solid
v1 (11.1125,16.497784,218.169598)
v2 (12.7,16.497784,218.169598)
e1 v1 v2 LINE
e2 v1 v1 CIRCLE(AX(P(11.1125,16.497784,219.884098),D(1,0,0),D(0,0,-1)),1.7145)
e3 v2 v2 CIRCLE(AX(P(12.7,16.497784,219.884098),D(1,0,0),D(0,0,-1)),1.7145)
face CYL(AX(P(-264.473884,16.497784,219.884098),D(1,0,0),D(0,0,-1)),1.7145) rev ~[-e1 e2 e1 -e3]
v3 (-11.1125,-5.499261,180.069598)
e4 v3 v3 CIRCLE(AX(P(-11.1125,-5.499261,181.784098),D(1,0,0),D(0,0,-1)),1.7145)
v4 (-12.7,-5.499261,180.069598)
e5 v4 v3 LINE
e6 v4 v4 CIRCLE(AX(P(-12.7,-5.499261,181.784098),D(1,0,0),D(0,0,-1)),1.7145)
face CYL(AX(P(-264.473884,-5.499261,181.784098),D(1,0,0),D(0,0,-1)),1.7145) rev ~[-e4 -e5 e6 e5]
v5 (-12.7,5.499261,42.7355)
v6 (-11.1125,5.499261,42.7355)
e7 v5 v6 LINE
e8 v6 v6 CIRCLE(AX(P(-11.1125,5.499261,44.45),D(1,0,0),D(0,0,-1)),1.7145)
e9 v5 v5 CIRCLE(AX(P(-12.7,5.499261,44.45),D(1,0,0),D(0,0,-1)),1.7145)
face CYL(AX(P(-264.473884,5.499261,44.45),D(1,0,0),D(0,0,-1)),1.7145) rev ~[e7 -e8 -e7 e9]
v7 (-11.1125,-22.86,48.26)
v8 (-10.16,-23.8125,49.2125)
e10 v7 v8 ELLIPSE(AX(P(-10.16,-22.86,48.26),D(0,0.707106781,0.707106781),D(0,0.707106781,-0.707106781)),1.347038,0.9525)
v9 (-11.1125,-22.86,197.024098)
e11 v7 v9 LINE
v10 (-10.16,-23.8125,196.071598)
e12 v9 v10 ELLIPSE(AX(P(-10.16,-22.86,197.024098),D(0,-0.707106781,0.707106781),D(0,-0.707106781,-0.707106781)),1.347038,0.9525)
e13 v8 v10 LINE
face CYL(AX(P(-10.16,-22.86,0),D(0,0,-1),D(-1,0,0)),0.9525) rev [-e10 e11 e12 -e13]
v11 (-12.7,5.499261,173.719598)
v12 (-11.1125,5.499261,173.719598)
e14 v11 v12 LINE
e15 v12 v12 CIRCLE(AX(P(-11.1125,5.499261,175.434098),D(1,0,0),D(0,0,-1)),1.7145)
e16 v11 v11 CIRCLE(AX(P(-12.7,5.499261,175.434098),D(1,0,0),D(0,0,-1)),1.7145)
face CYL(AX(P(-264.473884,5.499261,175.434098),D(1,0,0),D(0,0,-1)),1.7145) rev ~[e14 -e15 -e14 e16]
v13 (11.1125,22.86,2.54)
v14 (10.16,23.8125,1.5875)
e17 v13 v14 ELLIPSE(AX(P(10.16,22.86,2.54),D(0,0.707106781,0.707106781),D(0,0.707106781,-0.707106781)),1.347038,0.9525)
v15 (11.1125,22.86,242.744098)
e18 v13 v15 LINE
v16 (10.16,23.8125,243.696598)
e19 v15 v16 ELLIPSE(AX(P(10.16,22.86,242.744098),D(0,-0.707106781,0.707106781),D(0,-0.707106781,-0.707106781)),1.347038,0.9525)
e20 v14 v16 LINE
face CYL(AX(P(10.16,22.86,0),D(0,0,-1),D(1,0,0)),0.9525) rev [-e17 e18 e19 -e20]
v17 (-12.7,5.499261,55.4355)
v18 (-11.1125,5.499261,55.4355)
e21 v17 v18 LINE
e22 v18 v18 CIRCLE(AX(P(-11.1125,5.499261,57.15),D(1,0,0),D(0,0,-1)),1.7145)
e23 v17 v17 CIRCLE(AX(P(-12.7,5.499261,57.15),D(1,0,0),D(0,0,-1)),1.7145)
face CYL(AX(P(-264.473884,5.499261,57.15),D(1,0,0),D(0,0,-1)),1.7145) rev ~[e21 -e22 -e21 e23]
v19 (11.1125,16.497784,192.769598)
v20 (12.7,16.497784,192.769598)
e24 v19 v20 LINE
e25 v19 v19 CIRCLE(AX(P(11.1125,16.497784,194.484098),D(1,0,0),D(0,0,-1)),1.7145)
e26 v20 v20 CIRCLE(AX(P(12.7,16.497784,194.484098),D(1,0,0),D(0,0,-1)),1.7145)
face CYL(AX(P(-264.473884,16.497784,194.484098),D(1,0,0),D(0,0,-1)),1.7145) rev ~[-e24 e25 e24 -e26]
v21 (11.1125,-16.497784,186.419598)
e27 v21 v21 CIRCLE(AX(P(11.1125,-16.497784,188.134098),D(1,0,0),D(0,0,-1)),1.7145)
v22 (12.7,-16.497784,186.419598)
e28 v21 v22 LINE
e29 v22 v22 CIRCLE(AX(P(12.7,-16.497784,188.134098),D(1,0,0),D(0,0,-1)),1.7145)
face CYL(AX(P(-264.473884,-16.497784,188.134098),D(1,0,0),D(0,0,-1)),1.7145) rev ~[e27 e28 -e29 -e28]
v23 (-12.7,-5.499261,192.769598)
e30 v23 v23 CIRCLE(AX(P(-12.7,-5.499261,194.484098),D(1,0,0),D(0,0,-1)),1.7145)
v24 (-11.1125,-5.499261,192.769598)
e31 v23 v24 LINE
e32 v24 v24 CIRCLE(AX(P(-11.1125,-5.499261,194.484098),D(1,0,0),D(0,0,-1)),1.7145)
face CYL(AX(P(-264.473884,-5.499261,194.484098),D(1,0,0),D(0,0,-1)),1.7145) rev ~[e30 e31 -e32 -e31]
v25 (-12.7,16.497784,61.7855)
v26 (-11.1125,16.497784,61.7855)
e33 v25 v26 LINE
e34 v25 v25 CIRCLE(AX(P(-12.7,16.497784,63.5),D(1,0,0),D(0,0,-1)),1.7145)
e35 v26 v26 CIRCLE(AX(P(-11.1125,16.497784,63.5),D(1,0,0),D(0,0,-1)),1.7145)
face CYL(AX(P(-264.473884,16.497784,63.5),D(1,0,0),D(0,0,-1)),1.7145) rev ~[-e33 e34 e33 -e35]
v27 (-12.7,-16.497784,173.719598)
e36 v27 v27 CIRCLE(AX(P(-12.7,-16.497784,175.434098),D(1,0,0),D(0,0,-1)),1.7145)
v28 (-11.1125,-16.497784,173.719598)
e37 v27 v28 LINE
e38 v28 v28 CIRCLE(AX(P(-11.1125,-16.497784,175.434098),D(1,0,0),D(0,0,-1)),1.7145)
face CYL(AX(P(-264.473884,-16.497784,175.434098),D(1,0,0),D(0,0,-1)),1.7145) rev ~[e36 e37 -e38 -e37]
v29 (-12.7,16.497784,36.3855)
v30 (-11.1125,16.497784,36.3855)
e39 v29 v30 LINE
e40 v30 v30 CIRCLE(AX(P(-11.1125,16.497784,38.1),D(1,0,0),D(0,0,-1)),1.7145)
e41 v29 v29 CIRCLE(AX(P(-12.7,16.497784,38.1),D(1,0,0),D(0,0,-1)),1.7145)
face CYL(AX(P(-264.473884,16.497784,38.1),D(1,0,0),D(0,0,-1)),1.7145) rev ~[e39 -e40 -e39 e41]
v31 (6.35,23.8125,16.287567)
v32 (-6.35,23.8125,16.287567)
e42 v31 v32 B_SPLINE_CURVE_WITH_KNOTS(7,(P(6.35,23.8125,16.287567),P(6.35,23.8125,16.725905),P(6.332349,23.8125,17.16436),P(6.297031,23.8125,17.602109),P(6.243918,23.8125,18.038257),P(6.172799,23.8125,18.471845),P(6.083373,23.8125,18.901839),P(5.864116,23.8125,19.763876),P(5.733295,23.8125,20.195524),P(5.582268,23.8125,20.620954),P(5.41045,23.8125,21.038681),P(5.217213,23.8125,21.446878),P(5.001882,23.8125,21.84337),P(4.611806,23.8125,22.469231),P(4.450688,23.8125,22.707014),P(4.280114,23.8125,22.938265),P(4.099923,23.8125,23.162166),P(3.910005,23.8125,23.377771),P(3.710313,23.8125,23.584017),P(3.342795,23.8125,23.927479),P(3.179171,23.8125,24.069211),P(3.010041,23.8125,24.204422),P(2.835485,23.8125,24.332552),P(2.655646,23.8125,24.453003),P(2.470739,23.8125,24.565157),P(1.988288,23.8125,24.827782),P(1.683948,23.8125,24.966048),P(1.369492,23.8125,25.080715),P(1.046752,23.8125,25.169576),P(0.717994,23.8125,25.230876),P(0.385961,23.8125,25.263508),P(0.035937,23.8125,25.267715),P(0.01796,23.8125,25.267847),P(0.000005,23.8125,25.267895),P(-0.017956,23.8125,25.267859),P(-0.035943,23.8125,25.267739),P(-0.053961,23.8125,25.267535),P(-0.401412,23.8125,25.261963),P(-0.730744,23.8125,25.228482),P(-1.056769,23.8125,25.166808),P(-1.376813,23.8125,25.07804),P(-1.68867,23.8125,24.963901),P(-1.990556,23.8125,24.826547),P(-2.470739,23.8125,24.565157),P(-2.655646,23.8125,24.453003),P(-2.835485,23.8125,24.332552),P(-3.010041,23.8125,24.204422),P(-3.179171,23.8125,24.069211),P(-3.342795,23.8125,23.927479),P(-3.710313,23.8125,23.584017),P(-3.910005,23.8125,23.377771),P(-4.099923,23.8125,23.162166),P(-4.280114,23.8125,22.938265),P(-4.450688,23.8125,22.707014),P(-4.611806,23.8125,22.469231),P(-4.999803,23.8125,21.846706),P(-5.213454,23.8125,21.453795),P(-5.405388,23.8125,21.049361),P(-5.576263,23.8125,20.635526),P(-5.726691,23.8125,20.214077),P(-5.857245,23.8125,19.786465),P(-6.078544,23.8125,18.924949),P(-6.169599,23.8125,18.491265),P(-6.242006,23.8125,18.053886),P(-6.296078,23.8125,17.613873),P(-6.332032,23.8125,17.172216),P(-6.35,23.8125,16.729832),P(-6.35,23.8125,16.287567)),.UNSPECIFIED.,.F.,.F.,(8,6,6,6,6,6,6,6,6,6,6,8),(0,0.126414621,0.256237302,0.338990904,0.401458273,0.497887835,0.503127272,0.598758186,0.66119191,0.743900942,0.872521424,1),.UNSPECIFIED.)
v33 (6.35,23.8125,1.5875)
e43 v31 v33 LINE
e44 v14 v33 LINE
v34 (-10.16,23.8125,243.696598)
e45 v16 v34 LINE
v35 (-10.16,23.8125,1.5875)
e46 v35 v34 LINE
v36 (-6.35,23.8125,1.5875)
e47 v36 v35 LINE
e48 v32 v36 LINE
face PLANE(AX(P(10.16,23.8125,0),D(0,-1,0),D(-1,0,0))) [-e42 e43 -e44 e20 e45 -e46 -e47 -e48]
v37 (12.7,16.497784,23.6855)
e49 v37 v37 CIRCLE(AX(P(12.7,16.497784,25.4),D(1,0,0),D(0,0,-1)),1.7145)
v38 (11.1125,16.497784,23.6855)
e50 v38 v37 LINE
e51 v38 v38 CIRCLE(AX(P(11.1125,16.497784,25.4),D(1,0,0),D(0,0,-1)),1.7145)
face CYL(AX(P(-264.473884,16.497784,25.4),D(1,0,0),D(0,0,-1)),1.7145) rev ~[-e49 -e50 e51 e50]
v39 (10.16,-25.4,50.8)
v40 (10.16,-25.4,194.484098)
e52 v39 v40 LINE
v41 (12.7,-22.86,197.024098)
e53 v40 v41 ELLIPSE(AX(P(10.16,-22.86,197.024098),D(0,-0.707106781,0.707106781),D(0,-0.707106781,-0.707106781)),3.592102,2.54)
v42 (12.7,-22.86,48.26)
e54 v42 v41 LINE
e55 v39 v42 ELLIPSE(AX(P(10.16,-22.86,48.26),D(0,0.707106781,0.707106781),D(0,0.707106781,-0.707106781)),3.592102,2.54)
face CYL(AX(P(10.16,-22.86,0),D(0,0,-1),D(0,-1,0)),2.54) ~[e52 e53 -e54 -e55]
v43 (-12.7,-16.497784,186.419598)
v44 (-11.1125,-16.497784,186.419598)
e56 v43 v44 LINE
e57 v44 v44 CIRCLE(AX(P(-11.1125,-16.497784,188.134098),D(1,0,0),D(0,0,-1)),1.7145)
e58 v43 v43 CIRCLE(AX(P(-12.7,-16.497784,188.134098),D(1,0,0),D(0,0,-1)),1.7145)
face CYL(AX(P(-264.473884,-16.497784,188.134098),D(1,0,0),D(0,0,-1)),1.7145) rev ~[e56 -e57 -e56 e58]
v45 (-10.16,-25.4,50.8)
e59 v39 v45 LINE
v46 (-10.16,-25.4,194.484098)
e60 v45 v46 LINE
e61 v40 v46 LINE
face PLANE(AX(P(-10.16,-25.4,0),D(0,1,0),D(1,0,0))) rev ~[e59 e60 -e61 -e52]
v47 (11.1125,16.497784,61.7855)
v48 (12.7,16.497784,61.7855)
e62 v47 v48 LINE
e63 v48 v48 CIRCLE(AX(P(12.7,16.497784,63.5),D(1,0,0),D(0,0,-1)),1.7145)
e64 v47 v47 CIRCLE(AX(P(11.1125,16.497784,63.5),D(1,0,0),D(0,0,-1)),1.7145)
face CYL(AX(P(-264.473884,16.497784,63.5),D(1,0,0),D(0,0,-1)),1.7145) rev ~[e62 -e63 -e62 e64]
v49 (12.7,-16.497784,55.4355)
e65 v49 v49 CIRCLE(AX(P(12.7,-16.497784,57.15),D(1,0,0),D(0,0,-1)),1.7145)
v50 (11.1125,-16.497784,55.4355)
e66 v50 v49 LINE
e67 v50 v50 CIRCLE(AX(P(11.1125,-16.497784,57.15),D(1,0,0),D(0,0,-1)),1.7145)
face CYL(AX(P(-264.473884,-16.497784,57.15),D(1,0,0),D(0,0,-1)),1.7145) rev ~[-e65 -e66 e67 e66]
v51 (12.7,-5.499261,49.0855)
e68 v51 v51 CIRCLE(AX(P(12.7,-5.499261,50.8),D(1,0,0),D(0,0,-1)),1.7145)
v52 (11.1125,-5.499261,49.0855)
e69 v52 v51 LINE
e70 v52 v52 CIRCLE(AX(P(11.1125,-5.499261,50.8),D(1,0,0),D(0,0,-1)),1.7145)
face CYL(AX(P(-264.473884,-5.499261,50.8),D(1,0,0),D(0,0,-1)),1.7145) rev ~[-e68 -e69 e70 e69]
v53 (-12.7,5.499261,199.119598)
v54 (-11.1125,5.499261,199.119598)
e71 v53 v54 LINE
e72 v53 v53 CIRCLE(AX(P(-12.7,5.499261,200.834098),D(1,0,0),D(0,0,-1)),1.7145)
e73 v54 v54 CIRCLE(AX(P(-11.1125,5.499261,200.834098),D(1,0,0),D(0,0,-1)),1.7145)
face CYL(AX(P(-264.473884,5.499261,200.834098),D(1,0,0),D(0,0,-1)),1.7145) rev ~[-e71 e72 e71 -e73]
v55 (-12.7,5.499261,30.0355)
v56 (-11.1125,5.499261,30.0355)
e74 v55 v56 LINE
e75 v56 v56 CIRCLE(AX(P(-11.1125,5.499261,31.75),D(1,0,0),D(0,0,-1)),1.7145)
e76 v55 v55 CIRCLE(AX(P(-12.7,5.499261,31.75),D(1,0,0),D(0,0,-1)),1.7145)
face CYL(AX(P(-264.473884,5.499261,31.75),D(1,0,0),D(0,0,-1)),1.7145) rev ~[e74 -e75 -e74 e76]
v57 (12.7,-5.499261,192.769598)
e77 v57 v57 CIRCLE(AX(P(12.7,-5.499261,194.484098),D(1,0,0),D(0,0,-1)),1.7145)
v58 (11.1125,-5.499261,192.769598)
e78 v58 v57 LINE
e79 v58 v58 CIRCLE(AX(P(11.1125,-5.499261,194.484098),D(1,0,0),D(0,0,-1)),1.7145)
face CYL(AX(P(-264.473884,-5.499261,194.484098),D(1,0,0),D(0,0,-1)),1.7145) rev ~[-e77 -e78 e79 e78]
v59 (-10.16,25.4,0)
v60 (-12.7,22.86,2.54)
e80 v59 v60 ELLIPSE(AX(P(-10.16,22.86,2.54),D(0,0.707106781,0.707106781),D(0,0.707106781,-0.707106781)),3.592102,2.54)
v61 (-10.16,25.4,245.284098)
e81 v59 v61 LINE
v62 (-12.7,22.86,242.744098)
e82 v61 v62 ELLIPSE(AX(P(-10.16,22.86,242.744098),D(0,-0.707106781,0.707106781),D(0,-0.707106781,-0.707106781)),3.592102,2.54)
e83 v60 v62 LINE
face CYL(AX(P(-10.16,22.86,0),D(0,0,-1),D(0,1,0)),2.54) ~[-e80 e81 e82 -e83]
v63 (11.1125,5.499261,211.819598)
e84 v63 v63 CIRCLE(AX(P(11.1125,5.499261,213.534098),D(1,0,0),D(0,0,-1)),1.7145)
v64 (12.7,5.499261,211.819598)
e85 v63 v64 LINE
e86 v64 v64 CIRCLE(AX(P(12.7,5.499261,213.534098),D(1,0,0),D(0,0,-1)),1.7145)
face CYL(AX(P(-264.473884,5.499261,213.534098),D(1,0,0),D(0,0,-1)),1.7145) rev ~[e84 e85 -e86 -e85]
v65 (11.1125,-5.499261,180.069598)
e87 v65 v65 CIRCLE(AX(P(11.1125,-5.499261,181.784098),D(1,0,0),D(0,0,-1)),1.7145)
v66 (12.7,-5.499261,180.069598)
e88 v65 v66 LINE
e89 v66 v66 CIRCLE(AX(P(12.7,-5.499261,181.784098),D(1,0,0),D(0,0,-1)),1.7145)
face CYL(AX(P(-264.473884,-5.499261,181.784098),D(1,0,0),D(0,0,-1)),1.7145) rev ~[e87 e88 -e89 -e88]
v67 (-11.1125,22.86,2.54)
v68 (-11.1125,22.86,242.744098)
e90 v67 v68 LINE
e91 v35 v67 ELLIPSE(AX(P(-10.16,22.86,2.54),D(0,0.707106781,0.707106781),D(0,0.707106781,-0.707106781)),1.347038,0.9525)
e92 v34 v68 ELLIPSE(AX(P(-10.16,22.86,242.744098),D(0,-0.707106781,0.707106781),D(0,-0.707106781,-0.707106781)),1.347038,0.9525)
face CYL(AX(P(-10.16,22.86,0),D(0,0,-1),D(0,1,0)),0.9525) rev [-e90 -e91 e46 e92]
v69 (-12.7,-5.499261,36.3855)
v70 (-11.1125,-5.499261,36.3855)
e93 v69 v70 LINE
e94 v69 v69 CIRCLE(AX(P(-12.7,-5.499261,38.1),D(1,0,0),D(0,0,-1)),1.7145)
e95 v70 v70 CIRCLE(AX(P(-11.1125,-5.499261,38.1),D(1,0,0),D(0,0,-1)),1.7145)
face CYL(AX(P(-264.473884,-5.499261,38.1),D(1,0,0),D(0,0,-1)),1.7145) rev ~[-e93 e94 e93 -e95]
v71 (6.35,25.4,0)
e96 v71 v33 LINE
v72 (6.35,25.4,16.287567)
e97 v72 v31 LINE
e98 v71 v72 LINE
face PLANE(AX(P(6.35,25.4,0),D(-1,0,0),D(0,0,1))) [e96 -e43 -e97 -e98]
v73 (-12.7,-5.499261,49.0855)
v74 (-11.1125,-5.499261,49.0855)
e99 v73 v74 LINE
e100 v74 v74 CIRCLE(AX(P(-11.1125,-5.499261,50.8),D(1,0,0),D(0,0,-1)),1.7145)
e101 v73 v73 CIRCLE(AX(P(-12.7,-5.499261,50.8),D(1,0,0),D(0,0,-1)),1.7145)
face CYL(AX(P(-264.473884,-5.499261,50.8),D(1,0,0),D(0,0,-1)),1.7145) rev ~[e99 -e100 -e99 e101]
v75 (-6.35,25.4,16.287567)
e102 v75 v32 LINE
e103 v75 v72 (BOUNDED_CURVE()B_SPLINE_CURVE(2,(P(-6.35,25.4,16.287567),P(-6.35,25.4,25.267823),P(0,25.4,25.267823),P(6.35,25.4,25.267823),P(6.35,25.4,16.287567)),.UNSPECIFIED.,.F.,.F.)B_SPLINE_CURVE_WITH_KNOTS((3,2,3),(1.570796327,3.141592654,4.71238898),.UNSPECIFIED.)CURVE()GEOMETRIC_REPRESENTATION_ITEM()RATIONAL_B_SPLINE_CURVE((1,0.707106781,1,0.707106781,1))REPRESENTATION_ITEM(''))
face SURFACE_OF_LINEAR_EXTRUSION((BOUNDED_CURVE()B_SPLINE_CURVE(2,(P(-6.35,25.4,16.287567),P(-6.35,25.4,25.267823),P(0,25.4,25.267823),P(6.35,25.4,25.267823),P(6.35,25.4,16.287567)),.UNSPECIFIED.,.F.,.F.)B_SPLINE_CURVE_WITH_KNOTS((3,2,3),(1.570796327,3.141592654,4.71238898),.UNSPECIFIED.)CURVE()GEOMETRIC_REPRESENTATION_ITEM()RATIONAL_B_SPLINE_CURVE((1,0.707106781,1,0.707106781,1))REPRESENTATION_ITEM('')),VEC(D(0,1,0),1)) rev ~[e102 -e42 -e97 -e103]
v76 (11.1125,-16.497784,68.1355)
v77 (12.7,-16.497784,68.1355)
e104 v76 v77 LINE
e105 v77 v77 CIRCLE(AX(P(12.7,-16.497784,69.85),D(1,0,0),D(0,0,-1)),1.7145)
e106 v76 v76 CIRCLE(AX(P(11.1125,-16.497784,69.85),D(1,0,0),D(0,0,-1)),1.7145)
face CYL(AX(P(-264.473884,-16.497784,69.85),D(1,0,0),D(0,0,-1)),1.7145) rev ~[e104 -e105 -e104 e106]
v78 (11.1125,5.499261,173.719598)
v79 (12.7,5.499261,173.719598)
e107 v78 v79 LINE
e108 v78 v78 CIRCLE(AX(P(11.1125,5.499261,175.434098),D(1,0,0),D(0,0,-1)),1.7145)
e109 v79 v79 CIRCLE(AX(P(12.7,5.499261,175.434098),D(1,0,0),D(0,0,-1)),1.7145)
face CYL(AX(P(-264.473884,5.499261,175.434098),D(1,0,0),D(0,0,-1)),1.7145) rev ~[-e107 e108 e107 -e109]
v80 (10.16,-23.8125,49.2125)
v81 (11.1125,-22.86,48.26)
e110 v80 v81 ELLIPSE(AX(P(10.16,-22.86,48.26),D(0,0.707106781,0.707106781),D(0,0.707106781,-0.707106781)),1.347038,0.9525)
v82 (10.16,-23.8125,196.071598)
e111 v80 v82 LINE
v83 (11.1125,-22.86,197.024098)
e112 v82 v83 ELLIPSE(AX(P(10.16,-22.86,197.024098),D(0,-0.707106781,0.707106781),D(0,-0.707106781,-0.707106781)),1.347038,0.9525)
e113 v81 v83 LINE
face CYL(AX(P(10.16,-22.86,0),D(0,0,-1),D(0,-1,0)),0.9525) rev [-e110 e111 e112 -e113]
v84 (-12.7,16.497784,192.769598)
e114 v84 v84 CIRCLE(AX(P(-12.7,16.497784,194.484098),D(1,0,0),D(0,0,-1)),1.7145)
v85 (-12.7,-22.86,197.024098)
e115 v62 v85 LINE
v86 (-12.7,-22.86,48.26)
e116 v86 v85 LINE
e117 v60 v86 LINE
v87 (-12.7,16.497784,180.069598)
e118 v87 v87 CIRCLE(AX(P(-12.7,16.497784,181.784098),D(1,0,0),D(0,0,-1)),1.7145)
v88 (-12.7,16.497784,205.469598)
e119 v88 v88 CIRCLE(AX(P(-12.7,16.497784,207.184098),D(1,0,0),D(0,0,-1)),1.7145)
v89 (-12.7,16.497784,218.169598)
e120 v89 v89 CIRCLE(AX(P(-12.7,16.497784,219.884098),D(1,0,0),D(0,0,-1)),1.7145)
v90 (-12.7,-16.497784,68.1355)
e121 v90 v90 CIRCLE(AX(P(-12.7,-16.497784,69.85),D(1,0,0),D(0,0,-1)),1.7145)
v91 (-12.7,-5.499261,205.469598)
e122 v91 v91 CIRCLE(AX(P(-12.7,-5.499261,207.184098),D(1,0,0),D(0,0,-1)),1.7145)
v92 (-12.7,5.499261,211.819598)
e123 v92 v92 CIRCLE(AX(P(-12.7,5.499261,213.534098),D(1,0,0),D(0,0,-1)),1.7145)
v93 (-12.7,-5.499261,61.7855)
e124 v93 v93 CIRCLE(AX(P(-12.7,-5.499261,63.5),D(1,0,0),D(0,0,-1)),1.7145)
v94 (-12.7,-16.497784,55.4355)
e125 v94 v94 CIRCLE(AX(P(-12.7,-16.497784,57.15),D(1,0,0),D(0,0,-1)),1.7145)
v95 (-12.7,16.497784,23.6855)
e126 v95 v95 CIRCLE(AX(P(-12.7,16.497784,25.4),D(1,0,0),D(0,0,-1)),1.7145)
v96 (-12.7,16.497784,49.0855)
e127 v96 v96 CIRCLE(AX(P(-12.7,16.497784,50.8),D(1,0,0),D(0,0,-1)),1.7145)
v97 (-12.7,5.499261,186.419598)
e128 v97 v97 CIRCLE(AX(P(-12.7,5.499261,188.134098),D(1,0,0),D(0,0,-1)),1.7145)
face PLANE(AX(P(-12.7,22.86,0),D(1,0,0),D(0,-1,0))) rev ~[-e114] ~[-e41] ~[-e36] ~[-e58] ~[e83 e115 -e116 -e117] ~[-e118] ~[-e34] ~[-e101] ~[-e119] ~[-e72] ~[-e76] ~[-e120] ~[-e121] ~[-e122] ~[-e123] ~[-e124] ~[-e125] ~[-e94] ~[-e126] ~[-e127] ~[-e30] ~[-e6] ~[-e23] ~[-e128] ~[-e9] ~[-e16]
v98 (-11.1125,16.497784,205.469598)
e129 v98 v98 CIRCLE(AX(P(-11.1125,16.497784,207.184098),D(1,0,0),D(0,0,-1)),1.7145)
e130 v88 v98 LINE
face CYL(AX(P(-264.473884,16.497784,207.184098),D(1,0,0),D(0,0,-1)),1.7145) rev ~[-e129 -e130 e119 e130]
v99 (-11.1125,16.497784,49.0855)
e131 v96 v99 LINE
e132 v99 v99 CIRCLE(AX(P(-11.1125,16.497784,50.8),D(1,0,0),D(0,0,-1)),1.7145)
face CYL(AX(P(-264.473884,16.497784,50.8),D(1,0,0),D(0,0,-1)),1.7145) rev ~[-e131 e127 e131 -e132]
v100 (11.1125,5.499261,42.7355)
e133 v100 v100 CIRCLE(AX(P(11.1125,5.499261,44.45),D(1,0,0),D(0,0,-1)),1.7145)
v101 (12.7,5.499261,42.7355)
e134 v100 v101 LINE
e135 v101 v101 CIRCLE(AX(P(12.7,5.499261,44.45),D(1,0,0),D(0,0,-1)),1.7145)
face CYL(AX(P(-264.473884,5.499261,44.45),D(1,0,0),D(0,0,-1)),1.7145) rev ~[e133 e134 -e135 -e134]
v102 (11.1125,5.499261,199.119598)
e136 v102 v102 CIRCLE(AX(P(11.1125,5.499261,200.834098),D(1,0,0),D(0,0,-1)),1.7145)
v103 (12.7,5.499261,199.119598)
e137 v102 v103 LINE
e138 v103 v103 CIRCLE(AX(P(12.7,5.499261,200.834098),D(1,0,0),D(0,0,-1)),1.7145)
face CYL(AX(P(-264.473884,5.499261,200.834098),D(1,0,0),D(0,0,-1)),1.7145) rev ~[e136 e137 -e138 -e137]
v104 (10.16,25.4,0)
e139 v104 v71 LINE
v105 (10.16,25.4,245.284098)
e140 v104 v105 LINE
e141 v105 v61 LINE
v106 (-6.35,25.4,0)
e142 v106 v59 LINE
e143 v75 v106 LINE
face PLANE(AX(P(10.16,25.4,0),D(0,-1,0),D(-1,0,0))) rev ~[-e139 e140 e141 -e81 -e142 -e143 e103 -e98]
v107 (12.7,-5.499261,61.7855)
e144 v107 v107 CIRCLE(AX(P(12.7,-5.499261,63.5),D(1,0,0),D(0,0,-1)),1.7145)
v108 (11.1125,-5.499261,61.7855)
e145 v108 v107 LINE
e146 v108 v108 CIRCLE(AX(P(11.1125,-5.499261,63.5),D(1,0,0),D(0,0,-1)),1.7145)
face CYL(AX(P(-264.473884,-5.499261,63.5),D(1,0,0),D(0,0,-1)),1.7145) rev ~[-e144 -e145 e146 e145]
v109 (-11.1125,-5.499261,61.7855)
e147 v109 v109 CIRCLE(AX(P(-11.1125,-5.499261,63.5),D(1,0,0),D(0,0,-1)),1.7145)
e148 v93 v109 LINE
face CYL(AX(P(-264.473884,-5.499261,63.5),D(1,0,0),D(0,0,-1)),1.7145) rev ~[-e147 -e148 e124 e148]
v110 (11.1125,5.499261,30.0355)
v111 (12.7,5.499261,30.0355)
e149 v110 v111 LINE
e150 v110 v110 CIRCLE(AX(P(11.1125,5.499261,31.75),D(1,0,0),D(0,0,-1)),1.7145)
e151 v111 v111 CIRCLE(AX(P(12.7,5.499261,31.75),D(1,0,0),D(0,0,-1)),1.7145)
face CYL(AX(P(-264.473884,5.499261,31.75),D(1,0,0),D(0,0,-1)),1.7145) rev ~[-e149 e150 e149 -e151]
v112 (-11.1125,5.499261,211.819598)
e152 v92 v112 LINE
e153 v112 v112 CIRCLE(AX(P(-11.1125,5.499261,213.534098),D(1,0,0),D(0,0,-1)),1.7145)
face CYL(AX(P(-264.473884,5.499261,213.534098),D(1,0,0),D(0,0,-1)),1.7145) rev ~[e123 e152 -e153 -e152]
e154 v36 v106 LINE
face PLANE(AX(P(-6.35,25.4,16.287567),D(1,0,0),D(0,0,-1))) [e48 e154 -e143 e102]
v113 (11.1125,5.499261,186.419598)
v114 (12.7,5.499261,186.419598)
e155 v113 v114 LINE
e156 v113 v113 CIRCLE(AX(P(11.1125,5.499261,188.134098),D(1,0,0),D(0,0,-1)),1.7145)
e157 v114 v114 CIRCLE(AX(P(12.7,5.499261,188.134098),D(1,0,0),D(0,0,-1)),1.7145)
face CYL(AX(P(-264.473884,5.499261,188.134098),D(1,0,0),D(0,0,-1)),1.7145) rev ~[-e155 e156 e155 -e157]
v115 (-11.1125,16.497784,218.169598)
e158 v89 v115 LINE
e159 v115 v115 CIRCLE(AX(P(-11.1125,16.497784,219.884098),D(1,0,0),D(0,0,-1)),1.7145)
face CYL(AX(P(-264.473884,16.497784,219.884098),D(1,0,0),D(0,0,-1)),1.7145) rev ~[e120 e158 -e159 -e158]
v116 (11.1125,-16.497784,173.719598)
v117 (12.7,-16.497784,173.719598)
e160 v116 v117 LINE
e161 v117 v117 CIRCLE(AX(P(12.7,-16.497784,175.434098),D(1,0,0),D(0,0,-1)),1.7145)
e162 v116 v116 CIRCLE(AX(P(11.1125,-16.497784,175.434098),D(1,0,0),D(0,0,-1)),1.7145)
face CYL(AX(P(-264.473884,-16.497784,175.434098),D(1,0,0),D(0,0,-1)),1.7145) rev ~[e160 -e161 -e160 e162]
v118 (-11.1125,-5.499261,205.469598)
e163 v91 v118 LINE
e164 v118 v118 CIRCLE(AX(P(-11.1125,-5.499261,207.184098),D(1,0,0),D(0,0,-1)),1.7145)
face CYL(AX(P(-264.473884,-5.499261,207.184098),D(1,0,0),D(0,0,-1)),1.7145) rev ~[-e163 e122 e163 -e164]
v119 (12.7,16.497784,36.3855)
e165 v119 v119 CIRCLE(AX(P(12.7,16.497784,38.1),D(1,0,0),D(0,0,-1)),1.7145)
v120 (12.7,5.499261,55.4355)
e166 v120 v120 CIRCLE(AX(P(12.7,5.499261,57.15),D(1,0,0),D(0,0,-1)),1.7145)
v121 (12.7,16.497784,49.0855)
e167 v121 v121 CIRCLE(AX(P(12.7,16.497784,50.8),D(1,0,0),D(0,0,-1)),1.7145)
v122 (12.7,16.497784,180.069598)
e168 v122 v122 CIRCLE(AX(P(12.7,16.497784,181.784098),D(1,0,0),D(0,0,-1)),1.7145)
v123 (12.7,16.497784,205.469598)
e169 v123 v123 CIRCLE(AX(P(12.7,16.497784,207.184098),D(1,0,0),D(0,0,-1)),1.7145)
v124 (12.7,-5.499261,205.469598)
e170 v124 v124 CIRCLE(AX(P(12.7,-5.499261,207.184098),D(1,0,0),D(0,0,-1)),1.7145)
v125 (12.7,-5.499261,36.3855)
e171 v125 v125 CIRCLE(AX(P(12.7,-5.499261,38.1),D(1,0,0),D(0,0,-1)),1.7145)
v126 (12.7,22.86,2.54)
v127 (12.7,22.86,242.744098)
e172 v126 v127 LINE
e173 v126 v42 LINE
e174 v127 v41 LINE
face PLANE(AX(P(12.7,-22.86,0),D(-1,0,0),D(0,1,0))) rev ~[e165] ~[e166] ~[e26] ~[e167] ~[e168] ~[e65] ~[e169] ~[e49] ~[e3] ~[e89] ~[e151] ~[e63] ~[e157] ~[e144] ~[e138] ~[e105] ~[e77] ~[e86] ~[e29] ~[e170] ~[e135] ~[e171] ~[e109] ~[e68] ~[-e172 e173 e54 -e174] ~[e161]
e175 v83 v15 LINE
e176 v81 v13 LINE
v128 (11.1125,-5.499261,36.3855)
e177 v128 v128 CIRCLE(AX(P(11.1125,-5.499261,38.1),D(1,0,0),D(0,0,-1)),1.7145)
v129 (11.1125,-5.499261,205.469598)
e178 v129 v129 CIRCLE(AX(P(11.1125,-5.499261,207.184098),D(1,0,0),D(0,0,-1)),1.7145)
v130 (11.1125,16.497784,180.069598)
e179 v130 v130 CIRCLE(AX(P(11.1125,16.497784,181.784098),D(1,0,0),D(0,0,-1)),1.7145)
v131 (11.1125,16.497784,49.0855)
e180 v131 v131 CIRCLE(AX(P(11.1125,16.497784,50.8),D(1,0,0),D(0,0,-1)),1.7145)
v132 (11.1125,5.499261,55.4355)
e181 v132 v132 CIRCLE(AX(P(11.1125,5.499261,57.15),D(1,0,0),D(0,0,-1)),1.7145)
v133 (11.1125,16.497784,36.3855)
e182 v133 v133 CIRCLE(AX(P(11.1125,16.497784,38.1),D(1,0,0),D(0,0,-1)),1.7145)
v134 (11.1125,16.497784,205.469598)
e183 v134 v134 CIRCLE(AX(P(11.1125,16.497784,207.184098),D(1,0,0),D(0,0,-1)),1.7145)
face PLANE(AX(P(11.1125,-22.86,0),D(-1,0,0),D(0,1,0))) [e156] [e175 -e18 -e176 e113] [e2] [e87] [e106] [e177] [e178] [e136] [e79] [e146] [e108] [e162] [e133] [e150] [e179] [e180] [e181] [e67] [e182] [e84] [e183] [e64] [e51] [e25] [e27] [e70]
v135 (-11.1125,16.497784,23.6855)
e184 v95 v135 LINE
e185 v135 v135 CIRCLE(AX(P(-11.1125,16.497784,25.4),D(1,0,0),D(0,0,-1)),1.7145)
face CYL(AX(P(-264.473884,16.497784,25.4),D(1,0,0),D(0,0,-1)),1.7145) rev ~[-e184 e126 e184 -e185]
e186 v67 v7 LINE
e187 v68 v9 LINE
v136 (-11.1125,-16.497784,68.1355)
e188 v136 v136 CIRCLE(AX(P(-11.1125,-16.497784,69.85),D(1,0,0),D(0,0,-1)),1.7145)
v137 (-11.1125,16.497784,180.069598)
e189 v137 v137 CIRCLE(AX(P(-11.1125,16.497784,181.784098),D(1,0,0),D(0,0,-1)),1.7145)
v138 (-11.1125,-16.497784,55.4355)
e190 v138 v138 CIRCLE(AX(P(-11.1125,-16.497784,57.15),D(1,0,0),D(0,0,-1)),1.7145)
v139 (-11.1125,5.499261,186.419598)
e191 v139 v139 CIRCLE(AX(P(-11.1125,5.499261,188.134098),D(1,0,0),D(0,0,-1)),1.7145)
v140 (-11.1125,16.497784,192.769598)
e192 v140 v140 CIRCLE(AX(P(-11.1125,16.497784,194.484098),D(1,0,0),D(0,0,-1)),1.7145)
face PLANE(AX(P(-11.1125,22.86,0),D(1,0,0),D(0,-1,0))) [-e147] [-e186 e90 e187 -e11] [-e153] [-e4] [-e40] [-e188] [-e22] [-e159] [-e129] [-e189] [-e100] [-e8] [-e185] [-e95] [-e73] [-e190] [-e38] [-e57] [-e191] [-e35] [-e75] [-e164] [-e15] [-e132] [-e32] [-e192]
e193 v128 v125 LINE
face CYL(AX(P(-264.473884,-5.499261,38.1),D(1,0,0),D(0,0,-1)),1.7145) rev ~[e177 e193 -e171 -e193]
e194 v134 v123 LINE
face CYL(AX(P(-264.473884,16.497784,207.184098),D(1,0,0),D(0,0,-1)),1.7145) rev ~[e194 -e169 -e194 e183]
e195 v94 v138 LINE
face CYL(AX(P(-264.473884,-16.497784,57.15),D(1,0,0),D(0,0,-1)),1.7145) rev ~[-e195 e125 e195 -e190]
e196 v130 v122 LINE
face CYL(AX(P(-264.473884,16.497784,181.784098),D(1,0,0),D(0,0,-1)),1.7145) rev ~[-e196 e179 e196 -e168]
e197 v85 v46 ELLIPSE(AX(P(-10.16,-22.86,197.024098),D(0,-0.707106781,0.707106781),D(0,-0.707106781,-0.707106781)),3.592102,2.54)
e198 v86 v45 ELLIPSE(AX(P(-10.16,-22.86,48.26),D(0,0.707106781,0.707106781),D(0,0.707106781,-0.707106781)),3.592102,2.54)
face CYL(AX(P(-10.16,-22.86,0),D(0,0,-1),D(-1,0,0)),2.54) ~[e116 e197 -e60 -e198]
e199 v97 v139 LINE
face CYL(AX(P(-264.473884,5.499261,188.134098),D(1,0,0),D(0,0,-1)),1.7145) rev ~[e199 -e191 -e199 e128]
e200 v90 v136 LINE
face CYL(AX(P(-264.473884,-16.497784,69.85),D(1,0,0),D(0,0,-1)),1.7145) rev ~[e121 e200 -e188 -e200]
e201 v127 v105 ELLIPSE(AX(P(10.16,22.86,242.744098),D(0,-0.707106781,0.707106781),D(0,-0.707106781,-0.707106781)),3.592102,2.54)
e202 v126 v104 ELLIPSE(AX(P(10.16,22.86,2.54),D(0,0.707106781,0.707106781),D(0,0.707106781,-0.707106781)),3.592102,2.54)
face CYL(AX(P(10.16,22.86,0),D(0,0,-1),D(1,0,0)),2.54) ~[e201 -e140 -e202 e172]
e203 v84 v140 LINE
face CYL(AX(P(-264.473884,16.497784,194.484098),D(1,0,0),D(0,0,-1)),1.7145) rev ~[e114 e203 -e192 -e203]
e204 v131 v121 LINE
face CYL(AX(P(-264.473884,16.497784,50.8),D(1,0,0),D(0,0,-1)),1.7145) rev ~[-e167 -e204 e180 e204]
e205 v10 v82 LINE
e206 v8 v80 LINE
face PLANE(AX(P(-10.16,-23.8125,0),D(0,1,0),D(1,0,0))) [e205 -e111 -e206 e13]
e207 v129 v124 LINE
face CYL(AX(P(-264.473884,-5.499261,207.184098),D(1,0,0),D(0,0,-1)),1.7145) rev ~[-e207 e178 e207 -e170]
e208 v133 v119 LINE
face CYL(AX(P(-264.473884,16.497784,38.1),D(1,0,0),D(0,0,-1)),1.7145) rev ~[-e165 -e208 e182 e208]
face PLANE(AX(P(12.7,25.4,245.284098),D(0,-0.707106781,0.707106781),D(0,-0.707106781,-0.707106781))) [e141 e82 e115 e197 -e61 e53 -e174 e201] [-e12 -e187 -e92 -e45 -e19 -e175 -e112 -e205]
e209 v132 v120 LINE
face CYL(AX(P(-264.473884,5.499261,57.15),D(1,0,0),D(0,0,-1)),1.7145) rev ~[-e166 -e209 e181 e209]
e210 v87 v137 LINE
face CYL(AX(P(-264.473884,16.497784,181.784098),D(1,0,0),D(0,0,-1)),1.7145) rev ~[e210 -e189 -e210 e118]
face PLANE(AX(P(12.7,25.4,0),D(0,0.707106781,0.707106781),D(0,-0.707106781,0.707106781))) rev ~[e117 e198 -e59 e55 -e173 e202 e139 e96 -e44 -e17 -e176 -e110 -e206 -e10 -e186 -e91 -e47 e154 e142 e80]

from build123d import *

# Parameters (mm, degrees)
EXTRUDE_THIN1_DEPTH          = 245.284098
CUT_EXTRUDE1_DEPTH           = 248.90040083
SKETCH4_R                    = 6.35
CUT_EXTRUDE2_DEPTH           = 237.025978745
CUT_EXTRUDE3_DEPTH           = 251.811121627
F_1_8_0_135_DIAMETER_HOLE1_D = 3.429


with BuildPart() as part:
    # Sketch1 → Extrude-Thin1 (new body)
    with BuildSketch(Plane.XY):
        with BuildLine():
            Line((-12.7, 22.86), (-12.7, -22.86))
            ThreePointArc((-12.7, -22.86), (-11.956051224, -24.656051224), (-10.16, -25.4))
            Line((-10.16, -25.4), (10.16, -25.4))
            ThreePointArc((10.16, -25.4), (11.956051224, -24.656051224), (12.7, -22.86))
            Line((12.7, -22.86), (12.7, 22.86))
            ThreePointArc((12.7, 22.86), (11.956051224, 24.656051224), (10.16, 25.4))
            Line((10.16, 25.4), (-10.16, 25.4))
            ThreePointArc((-10.16, 25.4), (-11.956051224, 24.656051224), (-12.7, 22.86))
        make_face()
        with BuildLine():
            Line((-11.1125, 22.86), (-11.1125, -22.86))
            ThreePointArc((-11.1125, -22.86), (-10.833519209, -23.533519209), (-10.16, -23.8125))
            Line((-10.16, -23.8125), (10.16, -23.8125))
            ThreePointArc((10.16, -23.8125), (10.833519209, -23.533519209), (11.1125, -22.86))
            Line((11.1125, -22.86), (11.1125, 22.86))
            ThreePointArc((11.1125, 22.86), (10.833519209, 23.533519209), (10.16, 23.8125))
            Line((10.16, 23.8125), (-10.16, 23.8125))
            ThreePointArc((-10.16, 23.8125), (-10.833519209, 23.533519209), (-11.1125, 22.86))
        make_face(mode=Mode.SUBTRACT)
    extrude(amount=EXTRUDE_THIN1_DEPTH)

    # Sketch2 → Cut-Extrude1 (cut, through all)
    with BuildSketch(Plane(origin=(12.7, 0, 0), x_dir=(0, 0, -1), z_dir=(1, 0, 0))):
        Polygon((-245.284097937, 25.4), (-194.484097937, -25.4), (-245.284097937, -25.4), align=None)
        Polygon((0, 25.4), (-50.8, -25.4), (0, -25.4), align=None)
    extrude(amount=-CUT_EXTRUDE1_DEPTH, mode=Mode.SUBTRACT)

    # Sketch4 → Cut-Extrude2 (cut, through all)
    with BuildSketch(Plane(origin=(0, 12.7, 12.7), x_dir=(1, 0, 0), z_dir=(0, -0.7071067811865476, -0.7071067811865476))):
        with Locations((0, -22.318463274)):
            Circle(SKETCH4_R)
        with Locations(Location((0, -6.443463274, 0), (0, 0, 270))):
            Circle(SKETCH4_R)
        with Locations((0, -38.193463274)):
            Circle(SKETCH4_R)
    extrude(amount=-CUT_EXTRUDE2_DEPTH, mode=Mode.SUBTRACT)

    # Sketch5 → Cut-Extrude3 (cut, through all)
    with BuildSketch(Plane(origin=(0, 25.4, 0), x_dir=(1, 0, 0), z_dir=(0, 1, 0))):
        with BuildLine():
            Line((-6.35, -16.28756685), (-6.35, 0))
            Line((-6.35, 0), (6.35, 0))
            Line((6.35, 0), (6.35, -16.28756685))
            add(Edge.make_bspline(
                [(-6.35, -16.28756685), (-6.35, -25.267822971), (0, -25.267822971), (6.35, -25.267822971), (6.35, -16.28756685)],
                knots=[1.570796327, 1.570796327, 1.570796327, 3.141592654, 3.141592654, 4.71238898, 4.71238898, 4.71238898], degree=2, weights=[1, 0.707106781, 1, 0.707106781, 1]))
        make_face()
    extrude(amount=-CUT_EXTRUDE3_DEPTH, mode=Mode.SUBTRACT)

    # 1/8 (0.135) Diameter Hole1 (through all)
    with Locations(Plane.ZY.offset(12.7)):
        with Locations((63.5, 16.497783942), (57.15, 5.499261314), (50.8, 16.497783942), (38.1, 16.497783942), (25.4, 16.497783942), (31.75, 5.499261314), (44.45, 5.499261314), (38.1, -5.499261314), (50.8, -5.499261314), (63.5, -5.499261314), (57.15, -16.497783942), (69.85, -16.497783942), (181.784097937, 16.497783942), (194.484097937, 16.497783942), (207.184097937, 16.497783942), (219.884097937, 16.497783942), (213.534097937, 5.499261314), (200.834097937, 5.499261314), (188.134097937, 5.499261314), (175.434097937, 5.499261314), (181.784097937, -5.499261314), (194.484097937, -5.499261314), (207.184097937, -5.499261314), (188.134097937, -16.497783942), (175.434097937, -16.497783942)):
            Hole(F_1_8_0_135_DIAMETER_HOLE1_D / 2)


solid = part.part
